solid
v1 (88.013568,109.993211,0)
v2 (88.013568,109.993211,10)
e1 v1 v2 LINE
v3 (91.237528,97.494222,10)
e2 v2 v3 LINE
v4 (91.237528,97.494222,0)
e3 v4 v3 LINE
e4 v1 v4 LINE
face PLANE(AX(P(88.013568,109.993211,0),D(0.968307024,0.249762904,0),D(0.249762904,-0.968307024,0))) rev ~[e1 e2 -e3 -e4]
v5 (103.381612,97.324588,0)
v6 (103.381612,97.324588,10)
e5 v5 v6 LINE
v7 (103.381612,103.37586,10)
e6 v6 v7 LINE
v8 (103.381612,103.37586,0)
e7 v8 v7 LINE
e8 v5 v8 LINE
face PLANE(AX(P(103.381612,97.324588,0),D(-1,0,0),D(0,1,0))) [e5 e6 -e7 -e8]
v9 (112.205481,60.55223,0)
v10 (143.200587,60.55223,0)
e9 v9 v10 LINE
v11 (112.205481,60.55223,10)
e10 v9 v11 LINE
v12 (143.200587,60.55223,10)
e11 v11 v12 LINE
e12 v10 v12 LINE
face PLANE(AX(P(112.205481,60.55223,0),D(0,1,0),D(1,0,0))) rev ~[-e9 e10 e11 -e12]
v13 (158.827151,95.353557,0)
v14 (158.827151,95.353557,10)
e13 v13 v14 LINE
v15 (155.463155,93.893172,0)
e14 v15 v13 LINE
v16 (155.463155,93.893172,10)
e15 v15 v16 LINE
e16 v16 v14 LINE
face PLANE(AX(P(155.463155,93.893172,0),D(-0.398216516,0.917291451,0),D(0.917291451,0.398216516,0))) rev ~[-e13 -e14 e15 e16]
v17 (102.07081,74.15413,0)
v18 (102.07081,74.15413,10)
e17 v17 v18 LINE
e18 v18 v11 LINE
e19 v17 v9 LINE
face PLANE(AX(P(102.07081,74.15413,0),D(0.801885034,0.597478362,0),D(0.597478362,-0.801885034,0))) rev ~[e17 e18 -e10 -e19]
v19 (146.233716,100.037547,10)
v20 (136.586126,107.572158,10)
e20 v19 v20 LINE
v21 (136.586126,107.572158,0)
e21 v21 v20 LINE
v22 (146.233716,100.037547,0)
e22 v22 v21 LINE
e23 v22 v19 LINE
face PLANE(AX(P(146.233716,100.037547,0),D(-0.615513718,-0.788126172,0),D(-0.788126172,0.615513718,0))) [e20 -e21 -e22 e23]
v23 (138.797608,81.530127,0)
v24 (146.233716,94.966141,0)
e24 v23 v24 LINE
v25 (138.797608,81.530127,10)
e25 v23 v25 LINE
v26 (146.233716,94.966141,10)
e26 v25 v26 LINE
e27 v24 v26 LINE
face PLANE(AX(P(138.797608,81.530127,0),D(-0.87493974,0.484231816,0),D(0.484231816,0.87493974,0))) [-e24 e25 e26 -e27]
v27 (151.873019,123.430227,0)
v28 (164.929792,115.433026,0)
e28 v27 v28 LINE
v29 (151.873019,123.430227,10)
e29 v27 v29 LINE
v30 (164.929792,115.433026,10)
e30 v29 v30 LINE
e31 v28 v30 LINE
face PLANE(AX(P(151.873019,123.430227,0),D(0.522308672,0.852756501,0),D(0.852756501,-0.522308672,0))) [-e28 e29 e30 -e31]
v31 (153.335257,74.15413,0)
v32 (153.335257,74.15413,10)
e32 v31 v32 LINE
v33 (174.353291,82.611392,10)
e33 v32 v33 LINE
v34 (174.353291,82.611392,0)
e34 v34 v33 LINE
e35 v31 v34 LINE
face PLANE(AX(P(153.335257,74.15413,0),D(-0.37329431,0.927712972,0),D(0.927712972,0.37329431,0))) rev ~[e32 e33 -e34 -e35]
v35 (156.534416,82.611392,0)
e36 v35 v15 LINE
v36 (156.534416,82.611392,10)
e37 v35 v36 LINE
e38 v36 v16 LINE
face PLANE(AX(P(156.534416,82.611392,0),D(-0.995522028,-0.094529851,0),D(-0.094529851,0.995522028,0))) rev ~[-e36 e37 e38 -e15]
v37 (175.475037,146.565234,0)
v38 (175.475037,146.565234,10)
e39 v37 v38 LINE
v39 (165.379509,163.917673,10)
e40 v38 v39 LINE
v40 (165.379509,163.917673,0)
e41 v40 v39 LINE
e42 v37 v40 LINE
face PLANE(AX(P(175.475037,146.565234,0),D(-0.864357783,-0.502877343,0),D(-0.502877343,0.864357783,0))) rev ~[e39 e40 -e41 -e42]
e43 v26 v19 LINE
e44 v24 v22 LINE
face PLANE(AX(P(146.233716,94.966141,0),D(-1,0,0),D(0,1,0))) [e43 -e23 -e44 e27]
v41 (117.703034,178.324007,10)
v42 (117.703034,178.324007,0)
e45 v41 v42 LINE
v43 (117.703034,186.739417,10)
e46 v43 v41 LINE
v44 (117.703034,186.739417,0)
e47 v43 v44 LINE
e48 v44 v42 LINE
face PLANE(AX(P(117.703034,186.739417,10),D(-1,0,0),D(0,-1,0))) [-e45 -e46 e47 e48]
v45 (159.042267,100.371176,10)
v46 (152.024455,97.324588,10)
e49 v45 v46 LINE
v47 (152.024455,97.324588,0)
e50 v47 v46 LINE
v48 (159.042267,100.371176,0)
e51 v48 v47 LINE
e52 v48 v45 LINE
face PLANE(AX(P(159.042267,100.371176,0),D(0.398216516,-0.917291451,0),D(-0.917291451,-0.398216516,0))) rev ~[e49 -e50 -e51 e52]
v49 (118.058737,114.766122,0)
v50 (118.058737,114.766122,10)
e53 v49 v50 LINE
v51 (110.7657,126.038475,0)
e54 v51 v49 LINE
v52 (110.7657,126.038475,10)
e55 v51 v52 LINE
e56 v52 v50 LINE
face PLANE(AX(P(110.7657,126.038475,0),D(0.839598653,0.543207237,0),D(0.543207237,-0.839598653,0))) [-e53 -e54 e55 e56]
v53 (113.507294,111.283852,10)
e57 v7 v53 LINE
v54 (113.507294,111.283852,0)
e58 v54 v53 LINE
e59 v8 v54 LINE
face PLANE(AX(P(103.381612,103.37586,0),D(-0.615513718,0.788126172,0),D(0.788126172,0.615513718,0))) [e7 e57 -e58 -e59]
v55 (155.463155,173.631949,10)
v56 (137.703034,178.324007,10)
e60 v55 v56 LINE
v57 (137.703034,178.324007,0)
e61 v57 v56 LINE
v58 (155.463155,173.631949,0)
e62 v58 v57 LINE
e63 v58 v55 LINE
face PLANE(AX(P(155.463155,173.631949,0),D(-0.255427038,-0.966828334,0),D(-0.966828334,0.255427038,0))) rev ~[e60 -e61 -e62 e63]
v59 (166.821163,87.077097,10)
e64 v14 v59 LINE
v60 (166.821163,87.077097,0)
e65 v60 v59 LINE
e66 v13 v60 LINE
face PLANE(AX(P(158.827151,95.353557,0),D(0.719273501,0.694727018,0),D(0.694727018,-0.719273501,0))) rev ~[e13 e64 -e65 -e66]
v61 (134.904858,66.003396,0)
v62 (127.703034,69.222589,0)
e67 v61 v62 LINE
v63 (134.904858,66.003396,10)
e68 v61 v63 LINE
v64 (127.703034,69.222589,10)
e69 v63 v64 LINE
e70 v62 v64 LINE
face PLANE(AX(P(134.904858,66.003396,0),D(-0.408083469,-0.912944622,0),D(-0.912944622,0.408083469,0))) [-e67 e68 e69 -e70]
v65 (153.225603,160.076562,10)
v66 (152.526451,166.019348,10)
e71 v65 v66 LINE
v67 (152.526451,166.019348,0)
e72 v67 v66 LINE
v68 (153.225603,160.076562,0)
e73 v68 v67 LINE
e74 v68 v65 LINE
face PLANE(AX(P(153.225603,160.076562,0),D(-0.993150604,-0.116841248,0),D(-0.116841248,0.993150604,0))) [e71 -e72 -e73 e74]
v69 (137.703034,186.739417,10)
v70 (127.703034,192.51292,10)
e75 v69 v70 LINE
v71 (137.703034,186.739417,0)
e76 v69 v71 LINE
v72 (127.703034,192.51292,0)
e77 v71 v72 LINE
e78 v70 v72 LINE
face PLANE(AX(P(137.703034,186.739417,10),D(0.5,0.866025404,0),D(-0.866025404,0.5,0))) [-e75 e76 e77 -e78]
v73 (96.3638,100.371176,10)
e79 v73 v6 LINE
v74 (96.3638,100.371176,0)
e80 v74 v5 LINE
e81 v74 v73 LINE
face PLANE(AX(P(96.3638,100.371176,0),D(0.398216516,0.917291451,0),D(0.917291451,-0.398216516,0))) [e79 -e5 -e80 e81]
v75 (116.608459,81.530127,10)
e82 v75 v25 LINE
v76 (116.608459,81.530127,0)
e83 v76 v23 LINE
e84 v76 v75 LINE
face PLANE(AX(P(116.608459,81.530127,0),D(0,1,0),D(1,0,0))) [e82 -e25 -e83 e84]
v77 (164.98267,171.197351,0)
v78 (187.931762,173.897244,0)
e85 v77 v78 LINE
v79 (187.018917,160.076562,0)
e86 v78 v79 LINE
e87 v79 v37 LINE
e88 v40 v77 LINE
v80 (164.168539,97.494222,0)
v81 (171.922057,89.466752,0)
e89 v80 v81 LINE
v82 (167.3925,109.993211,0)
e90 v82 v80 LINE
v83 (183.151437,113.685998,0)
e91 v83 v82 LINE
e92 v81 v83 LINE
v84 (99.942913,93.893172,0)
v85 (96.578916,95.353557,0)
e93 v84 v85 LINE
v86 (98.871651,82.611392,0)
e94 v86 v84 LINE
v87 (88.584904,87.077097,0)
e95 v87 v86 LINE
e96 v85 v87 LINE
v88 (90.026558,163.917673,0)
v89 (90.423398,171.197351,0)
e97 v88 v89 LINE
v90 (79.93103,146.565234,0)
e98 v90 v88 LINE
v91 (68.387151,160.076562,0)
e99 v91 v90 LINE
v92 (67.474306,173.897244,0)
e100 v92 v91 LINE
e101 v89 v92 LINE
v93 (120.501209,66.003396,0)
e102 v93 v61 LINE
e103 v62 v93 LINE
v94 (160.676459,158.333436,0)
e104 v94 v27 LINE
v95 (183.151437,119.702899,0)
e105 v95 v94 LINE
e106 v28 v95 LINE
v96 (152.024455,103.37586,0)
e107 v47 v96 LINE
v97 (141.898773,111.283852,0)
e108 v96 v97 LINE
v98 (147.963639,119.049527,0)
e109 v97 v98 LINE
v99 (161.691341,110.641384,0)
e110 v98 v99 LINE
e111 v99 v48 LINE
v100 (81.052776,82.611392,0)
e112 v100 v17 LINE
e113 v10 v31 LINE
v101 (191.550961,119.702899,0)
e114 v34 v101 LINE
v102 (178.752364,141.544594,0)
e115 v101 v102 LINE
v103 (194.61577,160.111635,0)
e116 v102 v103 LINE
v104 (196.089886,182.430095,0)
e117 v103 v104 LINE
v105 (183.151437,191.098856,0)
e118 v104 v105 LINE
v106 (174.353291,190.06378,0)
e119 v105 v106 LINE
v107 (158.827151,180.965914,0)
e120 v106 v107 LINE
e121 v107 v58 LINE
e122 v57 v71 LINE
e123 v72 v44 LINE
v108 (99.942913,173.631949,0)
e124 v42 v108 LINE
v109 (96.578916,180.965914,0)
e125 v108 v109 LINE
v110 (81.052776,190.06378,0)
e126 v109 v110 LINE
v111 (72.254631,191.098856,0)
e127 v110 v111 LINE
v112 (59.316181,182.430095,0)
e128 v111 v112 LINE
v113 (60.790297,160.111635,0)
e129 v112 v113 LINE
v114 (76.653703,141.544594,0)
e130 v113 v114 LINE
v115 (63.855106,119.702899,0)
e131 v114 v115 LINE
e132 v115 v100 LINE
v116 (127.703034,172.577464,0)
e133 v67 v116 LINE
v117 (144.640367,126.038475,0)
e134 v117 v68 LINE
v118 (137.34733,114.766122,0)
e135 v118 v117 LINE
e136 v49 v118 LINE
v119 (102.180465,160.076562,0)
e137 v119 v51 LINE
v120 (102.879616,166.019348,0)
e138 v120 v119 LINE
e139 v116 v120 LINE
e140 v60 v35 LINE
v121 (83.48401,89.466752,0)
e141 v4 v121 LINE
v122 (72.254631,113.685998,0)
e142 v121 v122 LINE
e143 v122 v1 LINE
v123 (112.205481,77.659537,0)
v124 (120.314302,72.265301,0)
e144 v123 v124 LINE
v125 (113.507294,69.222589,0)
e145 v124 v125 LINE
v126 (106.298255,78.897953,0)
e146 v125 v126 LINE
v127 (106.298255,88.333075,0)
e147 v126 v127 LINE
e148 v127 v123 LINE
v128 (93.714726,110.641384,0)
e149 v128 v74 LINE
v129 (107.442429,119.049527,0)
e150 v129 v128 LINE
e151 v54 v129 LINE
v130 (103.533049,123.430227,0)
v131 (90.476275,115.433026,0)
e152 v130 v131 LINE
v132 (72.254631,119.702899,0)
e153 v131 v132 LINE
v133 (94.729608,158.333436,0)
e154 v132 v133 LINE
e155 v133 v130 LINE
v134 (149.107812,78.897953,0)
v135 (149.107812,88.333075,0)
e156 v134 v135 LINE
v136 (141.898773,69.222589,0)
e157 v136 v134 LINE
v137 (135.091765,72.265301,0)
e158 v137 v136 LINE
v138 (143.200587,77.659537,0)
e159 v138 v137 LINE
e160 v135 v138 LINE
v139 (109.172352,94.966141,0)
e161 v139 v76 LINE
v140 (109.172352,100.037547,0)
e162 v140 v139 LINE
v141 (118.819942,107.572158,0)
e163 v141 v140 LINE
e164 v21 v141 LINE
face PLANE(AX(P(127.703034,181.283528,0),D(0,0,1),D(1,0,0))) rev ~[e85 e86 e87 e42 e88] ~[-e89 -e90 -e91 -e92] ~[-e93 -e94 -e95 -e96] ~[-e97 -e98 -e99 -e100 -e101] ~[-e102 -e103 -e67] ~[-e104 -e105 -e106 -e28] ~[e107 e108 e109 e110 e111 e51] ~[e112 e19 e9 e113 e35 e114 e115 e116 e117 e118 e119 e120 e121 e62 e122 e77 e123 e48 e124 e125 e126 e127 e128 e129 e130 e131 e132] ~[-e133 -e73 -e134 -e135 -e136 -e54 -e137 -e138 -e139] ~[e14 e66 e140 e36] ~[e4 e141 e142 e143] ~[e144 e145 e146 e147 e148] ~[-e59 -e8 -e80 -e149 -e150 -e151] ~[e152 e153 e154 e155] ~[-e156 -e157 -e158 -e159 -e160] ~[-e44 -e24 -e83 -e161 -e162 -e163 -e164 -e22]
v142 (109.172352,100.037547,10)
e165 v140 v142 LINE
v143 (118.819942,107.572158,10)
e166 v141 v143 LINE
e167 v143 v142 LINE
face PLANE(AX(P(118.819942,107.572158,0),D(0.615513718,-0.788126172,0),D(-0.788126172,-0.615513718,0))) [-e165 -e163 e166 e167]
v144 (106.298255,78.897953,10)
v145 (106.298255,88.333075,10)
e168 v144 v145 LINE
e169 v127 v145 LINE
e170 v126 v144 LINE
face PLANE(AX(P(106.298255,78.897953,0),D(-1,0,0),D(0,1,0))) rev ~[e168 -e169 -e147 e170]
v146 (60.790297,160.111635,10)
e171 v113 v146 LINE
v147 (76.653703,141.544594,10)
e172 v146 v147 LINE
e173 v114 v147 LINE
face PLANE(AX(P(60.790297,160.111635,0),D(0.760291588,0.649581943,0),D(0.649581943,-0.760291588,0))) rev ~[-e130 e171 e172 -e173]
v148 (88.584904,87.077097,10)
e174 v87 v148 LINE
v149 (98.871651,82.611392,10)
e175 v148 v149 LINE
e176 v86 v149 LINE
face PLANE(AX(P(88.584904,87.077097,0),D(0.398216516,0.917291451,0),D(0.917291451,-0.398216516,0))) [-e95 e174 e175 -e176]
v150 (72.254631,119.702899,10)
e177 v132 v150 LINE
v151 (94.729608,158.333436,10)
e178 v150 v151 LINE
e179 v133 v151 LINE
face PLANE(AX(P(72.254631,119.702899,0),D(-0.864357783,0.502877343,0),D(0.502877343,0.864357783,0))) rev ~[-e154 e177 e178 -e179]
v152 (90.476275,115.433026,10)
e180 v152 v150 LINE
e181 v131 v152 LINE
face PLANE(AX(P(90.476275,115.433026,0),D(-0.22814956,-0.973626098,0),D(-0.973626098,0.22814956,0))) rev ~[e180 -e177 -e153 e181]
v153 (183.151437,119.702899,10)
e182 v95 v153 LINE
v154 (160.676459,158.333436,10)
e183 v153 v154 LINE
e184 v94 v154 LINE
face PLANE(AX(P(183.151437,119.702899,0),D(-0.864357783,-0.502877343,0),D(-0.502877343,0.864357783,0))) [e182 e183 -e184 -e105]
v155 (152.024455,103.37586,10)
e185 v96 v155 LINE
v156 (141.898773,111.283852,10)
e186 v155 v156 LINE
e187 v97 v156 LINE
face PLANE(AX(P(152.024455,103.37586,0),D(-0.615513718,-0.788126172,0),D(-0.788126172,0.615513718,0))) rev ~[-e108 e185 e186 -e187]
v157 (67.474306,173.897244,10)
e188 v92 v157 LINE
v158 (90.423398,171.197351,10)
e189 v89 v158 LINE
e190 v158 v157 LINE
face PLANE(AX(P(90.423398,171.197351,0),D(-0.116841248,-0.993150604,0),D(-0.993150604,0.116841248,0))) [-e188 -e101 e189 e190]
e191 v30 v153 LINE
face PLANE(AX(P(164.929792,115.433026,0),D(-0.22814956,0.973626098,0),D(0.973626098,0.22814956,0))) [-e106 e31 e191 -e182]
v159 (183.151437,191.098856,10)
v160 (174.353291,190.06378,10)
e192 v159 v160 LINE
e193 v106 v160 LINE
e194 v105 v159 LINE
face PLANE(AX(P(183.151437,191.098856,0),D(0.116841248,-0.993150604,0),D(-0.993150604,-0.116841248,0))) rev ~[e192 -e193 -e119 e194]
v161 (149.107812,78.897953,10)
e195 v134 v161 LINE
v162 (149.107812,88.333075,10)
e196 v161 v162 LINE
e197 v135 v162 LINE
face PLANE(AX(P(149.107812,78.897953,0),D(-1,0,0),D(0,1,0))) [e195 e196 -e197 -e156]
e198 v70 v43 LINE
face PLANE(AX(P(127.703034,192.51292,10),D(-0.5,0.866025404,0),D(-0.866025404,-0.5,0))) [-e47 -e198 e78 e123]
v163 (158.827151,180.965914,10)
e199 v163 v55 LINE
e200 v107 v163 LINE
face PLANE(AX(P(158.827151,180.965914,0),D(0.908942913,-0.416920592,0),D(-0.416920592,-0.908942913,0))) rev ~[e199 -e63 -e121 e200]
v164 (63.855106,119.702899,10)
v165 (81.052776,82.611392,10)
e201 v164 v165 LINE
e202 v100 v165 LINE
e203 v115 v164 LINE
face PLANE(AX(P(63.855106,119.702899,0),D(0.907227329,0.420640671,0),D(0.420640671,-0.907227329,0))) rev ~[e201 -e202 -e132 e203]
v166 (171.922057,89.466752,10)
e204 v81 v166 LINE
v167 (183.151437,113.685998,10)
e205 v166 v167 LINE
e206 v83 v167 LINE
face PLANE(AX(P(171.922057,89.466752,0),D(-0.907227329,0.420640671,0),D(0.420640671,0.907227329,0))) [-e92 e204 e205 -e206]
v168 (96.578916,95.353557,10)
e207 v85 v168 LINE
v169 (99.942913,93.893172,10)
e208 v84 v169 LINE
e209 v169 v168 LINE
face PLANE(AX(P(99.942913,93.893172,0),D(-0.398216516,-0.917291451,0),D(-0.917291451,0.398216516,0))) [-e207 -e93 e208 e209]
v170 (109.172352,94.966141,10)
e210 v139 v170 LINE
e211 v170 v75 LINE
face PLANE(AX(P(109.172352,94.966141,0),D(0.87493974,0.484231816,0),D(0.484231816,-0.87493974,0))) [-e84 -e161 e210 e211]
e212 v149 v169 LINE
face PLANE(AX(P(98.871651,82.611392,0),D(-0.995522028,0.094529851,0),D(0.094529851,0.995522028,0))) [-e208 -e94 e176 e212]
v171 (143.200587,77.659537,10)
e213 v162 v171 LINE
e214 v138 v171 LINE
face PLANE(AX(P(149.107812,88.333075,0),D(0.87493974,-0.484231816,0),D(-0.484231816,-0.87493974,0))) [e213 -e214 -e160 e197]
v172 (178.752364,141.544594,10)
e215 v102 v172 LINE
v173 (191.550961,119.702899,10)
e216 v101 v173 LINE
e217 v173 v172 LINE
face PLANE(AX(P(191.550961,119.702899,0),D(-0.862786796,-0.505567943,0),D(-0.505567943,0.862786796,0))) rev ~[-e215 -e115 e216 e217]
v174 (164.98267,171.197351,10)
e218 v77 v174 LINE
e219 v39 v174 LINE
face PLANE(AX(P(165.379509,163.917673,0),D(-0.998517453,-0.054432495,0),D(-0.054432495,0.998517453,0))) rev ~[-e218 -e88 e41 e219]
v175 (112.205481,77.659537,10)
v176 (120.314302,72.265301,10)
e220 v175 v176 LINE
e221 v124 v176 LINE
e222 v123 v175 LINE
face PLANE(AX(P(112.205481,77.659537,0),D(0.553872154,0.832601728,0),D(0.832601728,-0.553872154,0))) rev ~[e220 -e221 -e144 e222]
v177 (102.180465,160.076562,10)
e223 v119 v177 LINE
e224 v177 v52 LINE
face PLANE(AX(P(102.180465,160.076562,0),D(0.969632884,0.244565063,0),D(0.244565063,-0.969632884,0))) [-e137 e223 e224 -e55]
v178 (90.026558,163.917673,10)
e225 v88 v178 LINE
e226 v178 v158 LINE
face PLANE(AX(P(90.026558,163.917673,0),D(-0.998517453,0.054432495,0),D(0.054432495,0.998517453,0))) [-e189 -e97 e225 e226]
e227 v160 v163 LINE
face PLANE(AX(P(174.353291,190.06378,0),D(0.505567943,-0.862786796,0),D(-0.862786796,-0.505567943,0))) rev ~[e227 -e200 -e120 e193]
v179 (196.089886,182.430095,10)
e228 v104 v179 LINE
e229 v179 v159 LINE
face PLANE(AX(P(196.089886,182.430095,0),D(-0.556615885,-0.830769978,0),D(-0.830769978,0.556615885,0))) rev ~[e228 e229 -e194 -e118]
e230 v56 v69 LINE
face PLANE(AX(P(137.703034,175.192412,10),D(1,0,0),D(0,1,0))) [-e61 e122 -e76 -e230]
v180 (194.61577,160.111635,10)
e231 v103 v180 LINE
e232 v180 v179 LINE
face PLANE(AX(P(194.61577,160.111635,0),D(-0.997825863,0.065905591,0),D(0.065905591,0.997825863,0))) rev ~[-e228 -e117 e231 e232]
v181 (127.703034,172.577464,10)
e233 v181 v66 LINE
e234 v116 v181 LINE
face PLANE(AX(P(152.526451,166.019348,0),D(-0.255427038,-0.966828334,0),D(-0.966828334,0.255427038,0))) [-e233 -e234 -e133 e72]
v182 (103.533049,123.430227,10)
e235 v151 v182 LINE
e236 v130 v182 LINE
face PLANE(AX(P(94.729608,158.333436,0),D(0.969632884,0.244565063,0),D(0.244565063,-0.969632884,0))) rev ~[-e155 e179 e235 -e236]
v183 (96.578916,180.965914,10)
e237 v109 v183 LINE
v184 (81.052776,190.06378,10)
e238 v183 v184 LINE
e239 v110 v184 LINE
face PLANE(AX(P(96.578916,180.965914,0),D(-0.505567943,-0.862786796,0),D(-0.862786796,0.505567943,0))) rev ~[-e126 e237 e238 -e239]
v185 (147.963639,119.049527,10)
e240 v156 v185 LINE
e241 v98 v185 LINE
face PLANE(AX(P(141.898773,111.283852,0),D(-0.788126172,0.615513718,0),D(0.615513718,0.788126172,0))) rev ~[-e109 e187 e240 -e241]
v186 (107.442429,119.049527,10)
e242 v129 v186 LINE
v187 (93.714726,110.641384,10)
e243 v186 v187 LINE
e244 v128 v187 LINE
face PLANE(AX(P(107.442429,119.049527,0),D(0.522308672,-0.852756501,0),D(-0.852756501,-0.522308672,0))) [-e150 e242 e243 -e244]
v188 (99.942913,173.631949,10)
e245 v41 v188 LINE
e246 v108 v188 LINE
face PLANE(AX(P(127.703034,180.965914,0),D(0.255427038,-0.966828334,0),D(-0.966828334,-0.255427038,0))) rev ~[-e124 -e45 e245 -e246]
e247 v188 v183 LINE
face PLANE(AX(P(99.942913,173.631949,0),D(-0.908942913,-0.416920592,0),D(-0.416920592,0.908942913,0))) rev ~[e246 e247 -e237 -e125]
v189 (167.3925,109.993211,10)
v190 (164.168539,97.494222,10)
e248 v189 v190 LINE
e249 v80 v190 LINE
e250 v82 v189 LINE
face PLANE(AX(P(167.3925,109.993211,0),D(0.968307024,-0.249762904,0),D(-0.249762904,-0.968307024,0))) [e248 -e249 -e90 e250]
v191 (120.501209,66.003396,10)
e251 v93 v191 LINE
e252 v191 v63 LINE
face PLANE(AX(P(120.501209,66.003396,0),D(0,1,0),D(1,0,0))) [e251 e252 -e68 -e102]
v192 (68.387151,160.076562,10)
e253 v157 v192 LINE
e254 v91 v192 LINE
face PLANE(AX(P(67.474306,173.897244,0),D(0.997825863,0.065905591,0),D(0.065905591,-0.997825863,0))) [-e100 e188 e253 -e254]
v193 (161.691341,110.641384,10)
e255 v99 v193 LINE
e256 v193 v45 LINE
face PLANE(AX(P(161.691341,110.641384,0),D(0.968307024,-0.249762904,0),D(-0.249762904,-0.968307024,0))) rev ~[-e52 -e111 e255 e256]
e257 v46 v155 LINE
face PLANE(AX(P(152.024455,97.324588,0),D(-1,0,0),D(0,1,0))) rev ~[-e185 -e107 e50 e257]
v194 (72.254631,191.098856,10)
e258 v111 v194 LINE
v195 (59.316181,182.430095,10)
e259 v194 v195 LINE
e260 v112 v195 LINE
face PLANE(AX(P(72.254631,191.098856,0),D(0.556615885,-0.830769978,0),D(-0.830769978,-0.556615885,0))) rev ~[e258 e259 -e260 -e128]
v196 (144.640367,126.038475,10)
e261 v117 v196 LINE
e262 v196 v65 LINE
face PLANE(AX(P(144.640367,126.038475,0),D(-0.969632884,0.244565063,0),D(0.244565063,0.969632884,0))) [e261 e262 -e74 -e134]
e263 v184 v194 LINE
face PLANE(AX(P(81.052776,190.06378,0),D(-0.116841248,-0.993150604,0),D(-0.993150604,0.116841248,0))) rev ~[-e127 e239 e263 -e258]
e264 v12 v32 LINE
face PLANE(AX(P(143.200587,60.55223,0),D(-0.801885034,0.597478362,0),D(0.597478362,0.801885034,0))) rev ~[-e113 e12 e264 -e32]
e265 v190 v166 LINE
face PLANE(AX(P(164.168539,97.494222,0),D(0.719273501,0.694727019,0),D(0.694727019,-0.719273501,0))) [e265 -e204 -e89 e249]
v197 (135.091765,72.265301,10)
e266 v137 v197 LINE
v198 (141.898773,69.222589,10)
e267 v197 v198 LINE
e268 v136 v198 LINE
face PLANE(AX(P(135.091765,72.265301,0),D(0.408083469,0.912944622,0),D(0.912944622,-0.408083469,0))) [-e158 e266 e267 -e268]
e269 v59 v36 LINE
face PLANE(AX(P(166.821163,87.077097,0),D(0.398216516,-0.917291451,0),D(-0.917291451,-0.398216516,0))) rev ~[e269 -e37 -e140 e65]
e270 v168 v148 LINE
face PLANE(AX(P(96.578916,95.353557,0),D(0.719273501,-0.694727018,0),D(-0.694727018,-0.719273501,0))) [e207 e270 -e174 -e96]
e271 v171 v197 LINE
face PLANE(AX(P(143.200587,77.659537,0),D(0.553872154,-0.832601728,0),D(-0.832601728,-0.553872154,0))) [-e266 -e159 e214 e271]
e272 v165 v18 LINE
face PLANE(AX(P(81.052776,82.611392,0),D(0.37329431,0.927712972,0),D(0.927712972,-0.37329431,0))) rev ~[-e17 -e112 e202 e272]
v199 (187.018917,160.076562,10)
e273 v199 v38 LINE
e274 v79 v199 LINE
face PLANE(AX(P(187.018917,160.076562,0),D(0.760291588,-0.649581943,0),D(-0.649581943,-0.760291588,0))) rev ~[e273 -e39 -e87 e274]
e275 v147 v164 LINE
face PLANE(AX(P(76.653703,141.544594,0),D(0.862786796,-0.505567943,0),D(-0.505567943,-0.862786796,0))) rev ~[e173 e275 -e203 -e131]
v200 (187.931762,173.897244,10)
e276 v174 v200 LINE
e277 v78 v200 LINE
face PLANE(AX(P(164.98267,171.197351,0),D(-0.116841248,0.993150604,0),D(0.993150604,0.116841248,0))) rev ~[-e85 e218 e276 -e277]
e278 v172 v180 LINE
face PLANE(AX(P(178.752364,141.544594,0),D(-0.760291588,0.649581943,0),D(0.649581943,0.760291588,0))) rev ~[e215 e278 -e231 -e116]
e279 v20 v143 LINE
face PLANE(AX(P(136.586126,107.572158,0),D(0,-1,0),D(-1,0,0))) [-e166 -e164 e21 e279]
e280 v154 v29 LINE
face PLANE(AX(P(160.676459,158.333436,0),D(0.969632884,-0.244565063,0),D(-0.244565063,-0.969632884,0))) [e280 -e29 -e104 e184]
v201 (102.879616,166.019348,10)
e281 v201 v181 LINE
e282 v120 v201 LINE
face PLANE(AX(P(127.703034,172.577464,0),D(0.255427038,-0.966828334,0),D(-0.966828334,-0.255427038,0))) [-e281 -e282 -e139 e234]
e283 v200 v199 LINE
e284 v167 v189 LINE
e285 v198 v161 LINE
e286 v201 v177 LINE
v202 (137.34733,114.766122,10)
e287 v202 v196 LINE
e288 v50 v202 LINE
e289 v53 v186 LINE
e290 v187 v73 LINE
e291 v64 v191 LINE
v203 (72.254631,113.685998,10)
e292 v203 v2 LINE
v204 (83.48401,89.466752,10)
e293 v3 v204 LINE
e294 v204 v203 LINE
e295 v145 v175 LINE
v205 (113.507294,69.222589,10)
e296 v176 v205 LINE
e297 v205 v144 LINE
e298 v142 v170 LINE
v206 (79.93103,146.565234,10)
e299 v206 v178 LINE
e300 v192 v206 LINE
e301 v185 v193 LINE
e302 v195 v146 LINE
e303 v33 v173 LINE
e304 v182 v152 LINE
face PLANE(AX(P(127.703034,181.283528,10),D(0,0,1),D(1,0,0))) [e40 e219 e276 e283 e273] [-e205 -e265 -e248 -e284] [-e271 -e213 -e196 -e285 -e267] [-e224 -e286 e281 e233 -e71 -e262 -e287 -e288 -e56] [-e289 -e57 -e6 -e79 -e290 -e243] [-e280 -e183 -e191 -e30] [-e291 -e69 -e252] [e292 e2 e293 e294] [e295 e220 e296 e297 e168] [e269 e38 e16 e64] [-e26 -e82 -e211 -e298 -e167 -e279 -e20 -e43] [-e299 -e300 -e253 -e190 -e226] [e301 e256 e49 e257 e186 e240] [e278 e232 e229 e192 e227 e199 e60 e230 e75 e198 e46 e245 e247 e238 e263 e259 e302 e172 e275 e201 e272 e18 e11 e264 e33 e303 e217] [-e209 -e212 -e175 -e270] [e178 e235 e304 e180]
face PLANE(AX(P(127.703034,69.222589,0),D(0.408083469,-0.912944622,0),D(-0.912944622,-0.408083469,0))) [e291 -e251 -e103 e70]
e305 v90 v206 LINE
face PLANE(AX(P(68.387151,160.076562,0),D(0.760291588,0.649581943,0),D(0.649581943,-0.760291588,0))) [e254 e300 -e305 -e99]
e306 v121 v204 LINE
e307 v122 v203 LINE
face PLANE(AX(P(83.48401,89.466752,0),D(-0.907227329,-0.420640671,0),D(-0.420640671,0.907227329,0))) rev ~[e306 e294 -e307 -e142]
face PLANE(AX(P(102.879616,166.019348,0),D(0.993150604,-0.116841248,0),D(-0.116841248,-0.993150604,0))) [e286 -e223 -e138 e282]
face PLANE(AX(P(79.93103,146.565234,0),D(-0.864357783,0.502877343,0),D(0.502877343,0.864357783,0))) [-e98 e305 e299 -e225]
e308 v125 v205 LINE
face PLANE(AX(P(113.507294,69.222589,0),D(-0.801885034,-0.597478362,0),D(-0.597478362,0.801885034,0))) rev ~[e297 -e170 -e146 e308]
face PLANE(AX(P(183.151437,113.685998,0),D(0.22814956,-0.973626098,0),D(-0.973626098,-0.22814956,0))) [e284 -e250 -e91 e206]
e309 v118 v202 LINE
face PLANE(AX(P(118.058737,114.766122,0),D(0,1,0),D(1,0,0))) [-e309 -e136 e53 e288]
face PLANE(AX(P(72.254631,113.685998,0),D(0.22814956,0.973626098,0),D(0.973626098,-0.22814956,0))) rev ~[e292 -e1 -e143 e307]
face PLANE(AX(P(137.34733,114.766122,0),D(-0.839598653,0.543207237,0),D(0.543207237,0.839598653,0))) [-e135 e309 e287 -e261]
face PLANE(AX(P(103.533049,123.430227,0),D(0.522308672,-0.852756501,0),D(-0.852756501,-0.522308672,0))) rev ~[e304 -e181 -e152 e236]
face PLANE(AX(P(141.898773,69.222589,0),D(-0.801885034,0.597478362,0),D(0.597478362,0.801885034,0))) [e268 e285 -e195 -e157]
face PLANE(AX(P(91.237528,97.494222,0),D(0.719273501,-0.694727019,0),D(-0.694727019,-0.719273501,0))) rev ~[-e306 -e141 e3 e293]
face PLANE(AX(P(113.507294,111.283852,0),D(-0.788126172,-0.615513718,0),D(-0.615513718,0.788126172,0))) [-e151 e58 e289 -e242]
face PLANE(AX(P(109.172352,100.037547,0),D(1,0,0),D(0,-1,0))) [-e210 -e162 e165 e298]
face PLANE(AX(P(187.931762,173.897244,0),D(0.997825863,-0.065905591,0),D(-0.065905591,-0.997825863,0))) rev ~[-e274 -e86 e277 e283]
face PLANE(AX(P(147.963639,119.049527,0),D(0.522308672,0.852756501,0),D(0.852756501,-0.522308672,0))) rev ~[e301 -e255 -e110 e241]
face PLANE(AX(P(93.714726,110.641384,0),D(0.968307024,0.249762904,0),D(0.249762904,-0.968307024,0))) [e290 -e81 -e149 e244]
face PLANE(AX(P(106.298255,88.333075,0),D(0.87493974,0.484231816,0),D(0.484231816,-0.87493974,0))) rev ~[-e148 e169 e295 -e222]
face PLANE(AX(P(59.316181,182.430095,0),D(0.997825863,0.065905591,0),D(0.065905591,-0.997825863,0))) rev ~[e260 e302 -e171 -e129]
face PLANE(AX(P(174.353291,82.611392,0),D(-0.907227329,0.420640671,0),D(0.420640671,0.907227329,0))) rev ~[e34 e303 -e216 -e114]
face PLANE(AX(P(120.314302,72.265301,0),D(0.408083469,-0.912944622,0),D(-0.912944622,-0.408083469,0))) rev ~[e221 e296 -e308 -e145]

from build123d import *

# Parameters (mm, degrees)
BOSS_EXTRUDE1_DEPTH = 10
BOSS_EXTRUDE2_DEPTH = 10


with BuildPart() as part:
    # Sketch1 → Boss-Extrude1 (new body)
    with BuildSketch(Plane.XY):
        Polygon((127.703033666, 180.965914282), (99.942912825, 173.631948997), (96.578915919, 180.965914282), (81.052776354, 190.063780037), (72.254630601, 191.098856008), (59.316180963, 182.430094751), (60.790297203, 160.111634548), (76.653703478, 141.544593896), (63.855106266, 119.702899162), (81.052776354, 82.611392369), (102.070810081, 74.154129577), (112.205480651, 60.552230042), (143.200586682, 60.552230042), (153.335257251, 74.154129577), (174.353290979, 82.611392369), (191.550961067, 119.702899162), (178.752363855, 141.544593896), (194.61577013, 160.111634548), (196.089886369, 182.430094751), (183.151436732, 191.098856008), (174.353290979, 190.063780037), (158.827151414, 180.965914282), (155.463154508, 173.631948997), align=None)
        Polygon((67.474305777, 173.897244281), (68.387150649, 160.076562168), (79.931030202, 146.565234447), (90.026558446, 163.917673436), (90.423397797, 171.197351102), align=None, mode=Mode.SUBTRACT)
        Polygon((127.703033666, 172.577463554), (102.879615929, 166.019347867), (102.18046467, 160.076562168), (110.765700355, 126.038475421), (118.058737252, 114.76612201), (137.34733008, 114.76612201), (144.640366978, 126.038475421), (153.225602663, 160.076562168), (152.526451404, 166.019347867), align=None, mode=Mode.SUBTRACT)
        Polygon((136.586125745, 107.572158068), (118.819941588, 107.572158068), (109.172351708, 100.037547324), (109.172351708, 94.966141376), (116.6084589, 81.530126894), (138.797608433, 81.530126894), (146.233715625, 94.966141376), (146.233715625, 100.037547324), align=None, mode=Mode.SUBTRACT)
        Polygon((127.703033666, 69.222589269), (120.501208911, 66.003395505), (134.904858422, 66.003395505), align=None, mode=Mode.SUBTRACT)
        Polygon((106.298254857, 88.333075052), (112.205480651, 77.659537236), (120.314301927, 72.265301124), (113.507293972, 69.222589269), (106.298254857, 78.897953172), align=None, mode=Mode.SUBTRACT)
        Polygon((88.584904383, 87.077096627), (98.87165084, 82.611392369), (99.942912825, 93.893171548), (96.578915919, 95.353557042), align=None, mode=Mode.SUBTRACT)
        Polygon((88.013567695, 109.993210583), (91.237528294, 97.494221969), (83.484010106, 89.466752149), (72.254630601, 113.685998364), align=None, mode=Mode.SUBTRACT)
        Polygon((93.714725872, 110.641384033), (96.363799956, 100.371175761), (103.381612359, 97.324588109), (103.381612359, 103.375859749), (113.507293972, 111.283852358), (107.442428718, 119.04952661), align=None, mode=Mode.SUBTRACT)
        Polygon((72.254630601, 119.702899162), (94.729608094, 158.333436003), (103.533048595, 123.430227468), (90.476275499, 115.433025678), align=None, mode=Mode.SUBTRACT)
        Polygon((164.929791833, 115.433025678), (183.151436732, 119.702899162), (160.676459238, 158.333436003), (151.873018738, 123.430227468), align=None, mode=Mode.SUBTRACT)
        Polygon((147.963638615, 119.04952661), (161.691341461, 110.641384033), (159.042267377, 100.371175761), (152.024454974, 97.324588109), (152.024454974, 103.375859749), (141.898773361, 111.283852358), align=None, mode=Mode.SUBTRACT)
        Polygon((183.151436732, 113.685998364), (167.392499638, 109.993210583), (164.168539039, 97.494221969), (171.922057227, 89.466752149), align=None, mode=Mode.SUBTRACT)
        Polygon((158.827151414, 95.353557042), (166.821162949, 87.077096627), (156.534416493, 82.611392369), (155.463154508, 93.893171548), align=None, mode=Mode.SUBTRACT)
        Polygon((149.107812476, 78.897953172), (149.107812476, 88.333075052), (143.200586682, 77.659537236), (135.091765405, 72.265301124), (141.898773361, 69.222589269), align=None, mode=Mode.SUBTRACT)
        Polygon((164.982669535, 171.197351102), (187.931761556, 173.897244281), (187.018916684, 160.076562168), (175.475037131, 146.565234447), (165.379508887, 163.917673436), align=None, mode=Mode.SUBTRACT)
    extrude(amount=BOSS_EXTRUDE1_DEPTH)

    # Sketch2 → Boss-Extrude2 (add)
    with BuildSketch(Plane.XY.offset(10)):
        Polygon((137.703033666, 186.739416974), (127.703033666, 192.512919666), (117.703033666, 186.739416974), (117.703033666, 175.19241159), (123.949734855, 171.585876977), (127.703033666, 172.577463554), (131.456332478, 171.585876977), (137.703033666, 175.19241159), align=None)
    extrude(amount=-BOSS_EXTRUDE2_DEPTH)


solid = part.part
